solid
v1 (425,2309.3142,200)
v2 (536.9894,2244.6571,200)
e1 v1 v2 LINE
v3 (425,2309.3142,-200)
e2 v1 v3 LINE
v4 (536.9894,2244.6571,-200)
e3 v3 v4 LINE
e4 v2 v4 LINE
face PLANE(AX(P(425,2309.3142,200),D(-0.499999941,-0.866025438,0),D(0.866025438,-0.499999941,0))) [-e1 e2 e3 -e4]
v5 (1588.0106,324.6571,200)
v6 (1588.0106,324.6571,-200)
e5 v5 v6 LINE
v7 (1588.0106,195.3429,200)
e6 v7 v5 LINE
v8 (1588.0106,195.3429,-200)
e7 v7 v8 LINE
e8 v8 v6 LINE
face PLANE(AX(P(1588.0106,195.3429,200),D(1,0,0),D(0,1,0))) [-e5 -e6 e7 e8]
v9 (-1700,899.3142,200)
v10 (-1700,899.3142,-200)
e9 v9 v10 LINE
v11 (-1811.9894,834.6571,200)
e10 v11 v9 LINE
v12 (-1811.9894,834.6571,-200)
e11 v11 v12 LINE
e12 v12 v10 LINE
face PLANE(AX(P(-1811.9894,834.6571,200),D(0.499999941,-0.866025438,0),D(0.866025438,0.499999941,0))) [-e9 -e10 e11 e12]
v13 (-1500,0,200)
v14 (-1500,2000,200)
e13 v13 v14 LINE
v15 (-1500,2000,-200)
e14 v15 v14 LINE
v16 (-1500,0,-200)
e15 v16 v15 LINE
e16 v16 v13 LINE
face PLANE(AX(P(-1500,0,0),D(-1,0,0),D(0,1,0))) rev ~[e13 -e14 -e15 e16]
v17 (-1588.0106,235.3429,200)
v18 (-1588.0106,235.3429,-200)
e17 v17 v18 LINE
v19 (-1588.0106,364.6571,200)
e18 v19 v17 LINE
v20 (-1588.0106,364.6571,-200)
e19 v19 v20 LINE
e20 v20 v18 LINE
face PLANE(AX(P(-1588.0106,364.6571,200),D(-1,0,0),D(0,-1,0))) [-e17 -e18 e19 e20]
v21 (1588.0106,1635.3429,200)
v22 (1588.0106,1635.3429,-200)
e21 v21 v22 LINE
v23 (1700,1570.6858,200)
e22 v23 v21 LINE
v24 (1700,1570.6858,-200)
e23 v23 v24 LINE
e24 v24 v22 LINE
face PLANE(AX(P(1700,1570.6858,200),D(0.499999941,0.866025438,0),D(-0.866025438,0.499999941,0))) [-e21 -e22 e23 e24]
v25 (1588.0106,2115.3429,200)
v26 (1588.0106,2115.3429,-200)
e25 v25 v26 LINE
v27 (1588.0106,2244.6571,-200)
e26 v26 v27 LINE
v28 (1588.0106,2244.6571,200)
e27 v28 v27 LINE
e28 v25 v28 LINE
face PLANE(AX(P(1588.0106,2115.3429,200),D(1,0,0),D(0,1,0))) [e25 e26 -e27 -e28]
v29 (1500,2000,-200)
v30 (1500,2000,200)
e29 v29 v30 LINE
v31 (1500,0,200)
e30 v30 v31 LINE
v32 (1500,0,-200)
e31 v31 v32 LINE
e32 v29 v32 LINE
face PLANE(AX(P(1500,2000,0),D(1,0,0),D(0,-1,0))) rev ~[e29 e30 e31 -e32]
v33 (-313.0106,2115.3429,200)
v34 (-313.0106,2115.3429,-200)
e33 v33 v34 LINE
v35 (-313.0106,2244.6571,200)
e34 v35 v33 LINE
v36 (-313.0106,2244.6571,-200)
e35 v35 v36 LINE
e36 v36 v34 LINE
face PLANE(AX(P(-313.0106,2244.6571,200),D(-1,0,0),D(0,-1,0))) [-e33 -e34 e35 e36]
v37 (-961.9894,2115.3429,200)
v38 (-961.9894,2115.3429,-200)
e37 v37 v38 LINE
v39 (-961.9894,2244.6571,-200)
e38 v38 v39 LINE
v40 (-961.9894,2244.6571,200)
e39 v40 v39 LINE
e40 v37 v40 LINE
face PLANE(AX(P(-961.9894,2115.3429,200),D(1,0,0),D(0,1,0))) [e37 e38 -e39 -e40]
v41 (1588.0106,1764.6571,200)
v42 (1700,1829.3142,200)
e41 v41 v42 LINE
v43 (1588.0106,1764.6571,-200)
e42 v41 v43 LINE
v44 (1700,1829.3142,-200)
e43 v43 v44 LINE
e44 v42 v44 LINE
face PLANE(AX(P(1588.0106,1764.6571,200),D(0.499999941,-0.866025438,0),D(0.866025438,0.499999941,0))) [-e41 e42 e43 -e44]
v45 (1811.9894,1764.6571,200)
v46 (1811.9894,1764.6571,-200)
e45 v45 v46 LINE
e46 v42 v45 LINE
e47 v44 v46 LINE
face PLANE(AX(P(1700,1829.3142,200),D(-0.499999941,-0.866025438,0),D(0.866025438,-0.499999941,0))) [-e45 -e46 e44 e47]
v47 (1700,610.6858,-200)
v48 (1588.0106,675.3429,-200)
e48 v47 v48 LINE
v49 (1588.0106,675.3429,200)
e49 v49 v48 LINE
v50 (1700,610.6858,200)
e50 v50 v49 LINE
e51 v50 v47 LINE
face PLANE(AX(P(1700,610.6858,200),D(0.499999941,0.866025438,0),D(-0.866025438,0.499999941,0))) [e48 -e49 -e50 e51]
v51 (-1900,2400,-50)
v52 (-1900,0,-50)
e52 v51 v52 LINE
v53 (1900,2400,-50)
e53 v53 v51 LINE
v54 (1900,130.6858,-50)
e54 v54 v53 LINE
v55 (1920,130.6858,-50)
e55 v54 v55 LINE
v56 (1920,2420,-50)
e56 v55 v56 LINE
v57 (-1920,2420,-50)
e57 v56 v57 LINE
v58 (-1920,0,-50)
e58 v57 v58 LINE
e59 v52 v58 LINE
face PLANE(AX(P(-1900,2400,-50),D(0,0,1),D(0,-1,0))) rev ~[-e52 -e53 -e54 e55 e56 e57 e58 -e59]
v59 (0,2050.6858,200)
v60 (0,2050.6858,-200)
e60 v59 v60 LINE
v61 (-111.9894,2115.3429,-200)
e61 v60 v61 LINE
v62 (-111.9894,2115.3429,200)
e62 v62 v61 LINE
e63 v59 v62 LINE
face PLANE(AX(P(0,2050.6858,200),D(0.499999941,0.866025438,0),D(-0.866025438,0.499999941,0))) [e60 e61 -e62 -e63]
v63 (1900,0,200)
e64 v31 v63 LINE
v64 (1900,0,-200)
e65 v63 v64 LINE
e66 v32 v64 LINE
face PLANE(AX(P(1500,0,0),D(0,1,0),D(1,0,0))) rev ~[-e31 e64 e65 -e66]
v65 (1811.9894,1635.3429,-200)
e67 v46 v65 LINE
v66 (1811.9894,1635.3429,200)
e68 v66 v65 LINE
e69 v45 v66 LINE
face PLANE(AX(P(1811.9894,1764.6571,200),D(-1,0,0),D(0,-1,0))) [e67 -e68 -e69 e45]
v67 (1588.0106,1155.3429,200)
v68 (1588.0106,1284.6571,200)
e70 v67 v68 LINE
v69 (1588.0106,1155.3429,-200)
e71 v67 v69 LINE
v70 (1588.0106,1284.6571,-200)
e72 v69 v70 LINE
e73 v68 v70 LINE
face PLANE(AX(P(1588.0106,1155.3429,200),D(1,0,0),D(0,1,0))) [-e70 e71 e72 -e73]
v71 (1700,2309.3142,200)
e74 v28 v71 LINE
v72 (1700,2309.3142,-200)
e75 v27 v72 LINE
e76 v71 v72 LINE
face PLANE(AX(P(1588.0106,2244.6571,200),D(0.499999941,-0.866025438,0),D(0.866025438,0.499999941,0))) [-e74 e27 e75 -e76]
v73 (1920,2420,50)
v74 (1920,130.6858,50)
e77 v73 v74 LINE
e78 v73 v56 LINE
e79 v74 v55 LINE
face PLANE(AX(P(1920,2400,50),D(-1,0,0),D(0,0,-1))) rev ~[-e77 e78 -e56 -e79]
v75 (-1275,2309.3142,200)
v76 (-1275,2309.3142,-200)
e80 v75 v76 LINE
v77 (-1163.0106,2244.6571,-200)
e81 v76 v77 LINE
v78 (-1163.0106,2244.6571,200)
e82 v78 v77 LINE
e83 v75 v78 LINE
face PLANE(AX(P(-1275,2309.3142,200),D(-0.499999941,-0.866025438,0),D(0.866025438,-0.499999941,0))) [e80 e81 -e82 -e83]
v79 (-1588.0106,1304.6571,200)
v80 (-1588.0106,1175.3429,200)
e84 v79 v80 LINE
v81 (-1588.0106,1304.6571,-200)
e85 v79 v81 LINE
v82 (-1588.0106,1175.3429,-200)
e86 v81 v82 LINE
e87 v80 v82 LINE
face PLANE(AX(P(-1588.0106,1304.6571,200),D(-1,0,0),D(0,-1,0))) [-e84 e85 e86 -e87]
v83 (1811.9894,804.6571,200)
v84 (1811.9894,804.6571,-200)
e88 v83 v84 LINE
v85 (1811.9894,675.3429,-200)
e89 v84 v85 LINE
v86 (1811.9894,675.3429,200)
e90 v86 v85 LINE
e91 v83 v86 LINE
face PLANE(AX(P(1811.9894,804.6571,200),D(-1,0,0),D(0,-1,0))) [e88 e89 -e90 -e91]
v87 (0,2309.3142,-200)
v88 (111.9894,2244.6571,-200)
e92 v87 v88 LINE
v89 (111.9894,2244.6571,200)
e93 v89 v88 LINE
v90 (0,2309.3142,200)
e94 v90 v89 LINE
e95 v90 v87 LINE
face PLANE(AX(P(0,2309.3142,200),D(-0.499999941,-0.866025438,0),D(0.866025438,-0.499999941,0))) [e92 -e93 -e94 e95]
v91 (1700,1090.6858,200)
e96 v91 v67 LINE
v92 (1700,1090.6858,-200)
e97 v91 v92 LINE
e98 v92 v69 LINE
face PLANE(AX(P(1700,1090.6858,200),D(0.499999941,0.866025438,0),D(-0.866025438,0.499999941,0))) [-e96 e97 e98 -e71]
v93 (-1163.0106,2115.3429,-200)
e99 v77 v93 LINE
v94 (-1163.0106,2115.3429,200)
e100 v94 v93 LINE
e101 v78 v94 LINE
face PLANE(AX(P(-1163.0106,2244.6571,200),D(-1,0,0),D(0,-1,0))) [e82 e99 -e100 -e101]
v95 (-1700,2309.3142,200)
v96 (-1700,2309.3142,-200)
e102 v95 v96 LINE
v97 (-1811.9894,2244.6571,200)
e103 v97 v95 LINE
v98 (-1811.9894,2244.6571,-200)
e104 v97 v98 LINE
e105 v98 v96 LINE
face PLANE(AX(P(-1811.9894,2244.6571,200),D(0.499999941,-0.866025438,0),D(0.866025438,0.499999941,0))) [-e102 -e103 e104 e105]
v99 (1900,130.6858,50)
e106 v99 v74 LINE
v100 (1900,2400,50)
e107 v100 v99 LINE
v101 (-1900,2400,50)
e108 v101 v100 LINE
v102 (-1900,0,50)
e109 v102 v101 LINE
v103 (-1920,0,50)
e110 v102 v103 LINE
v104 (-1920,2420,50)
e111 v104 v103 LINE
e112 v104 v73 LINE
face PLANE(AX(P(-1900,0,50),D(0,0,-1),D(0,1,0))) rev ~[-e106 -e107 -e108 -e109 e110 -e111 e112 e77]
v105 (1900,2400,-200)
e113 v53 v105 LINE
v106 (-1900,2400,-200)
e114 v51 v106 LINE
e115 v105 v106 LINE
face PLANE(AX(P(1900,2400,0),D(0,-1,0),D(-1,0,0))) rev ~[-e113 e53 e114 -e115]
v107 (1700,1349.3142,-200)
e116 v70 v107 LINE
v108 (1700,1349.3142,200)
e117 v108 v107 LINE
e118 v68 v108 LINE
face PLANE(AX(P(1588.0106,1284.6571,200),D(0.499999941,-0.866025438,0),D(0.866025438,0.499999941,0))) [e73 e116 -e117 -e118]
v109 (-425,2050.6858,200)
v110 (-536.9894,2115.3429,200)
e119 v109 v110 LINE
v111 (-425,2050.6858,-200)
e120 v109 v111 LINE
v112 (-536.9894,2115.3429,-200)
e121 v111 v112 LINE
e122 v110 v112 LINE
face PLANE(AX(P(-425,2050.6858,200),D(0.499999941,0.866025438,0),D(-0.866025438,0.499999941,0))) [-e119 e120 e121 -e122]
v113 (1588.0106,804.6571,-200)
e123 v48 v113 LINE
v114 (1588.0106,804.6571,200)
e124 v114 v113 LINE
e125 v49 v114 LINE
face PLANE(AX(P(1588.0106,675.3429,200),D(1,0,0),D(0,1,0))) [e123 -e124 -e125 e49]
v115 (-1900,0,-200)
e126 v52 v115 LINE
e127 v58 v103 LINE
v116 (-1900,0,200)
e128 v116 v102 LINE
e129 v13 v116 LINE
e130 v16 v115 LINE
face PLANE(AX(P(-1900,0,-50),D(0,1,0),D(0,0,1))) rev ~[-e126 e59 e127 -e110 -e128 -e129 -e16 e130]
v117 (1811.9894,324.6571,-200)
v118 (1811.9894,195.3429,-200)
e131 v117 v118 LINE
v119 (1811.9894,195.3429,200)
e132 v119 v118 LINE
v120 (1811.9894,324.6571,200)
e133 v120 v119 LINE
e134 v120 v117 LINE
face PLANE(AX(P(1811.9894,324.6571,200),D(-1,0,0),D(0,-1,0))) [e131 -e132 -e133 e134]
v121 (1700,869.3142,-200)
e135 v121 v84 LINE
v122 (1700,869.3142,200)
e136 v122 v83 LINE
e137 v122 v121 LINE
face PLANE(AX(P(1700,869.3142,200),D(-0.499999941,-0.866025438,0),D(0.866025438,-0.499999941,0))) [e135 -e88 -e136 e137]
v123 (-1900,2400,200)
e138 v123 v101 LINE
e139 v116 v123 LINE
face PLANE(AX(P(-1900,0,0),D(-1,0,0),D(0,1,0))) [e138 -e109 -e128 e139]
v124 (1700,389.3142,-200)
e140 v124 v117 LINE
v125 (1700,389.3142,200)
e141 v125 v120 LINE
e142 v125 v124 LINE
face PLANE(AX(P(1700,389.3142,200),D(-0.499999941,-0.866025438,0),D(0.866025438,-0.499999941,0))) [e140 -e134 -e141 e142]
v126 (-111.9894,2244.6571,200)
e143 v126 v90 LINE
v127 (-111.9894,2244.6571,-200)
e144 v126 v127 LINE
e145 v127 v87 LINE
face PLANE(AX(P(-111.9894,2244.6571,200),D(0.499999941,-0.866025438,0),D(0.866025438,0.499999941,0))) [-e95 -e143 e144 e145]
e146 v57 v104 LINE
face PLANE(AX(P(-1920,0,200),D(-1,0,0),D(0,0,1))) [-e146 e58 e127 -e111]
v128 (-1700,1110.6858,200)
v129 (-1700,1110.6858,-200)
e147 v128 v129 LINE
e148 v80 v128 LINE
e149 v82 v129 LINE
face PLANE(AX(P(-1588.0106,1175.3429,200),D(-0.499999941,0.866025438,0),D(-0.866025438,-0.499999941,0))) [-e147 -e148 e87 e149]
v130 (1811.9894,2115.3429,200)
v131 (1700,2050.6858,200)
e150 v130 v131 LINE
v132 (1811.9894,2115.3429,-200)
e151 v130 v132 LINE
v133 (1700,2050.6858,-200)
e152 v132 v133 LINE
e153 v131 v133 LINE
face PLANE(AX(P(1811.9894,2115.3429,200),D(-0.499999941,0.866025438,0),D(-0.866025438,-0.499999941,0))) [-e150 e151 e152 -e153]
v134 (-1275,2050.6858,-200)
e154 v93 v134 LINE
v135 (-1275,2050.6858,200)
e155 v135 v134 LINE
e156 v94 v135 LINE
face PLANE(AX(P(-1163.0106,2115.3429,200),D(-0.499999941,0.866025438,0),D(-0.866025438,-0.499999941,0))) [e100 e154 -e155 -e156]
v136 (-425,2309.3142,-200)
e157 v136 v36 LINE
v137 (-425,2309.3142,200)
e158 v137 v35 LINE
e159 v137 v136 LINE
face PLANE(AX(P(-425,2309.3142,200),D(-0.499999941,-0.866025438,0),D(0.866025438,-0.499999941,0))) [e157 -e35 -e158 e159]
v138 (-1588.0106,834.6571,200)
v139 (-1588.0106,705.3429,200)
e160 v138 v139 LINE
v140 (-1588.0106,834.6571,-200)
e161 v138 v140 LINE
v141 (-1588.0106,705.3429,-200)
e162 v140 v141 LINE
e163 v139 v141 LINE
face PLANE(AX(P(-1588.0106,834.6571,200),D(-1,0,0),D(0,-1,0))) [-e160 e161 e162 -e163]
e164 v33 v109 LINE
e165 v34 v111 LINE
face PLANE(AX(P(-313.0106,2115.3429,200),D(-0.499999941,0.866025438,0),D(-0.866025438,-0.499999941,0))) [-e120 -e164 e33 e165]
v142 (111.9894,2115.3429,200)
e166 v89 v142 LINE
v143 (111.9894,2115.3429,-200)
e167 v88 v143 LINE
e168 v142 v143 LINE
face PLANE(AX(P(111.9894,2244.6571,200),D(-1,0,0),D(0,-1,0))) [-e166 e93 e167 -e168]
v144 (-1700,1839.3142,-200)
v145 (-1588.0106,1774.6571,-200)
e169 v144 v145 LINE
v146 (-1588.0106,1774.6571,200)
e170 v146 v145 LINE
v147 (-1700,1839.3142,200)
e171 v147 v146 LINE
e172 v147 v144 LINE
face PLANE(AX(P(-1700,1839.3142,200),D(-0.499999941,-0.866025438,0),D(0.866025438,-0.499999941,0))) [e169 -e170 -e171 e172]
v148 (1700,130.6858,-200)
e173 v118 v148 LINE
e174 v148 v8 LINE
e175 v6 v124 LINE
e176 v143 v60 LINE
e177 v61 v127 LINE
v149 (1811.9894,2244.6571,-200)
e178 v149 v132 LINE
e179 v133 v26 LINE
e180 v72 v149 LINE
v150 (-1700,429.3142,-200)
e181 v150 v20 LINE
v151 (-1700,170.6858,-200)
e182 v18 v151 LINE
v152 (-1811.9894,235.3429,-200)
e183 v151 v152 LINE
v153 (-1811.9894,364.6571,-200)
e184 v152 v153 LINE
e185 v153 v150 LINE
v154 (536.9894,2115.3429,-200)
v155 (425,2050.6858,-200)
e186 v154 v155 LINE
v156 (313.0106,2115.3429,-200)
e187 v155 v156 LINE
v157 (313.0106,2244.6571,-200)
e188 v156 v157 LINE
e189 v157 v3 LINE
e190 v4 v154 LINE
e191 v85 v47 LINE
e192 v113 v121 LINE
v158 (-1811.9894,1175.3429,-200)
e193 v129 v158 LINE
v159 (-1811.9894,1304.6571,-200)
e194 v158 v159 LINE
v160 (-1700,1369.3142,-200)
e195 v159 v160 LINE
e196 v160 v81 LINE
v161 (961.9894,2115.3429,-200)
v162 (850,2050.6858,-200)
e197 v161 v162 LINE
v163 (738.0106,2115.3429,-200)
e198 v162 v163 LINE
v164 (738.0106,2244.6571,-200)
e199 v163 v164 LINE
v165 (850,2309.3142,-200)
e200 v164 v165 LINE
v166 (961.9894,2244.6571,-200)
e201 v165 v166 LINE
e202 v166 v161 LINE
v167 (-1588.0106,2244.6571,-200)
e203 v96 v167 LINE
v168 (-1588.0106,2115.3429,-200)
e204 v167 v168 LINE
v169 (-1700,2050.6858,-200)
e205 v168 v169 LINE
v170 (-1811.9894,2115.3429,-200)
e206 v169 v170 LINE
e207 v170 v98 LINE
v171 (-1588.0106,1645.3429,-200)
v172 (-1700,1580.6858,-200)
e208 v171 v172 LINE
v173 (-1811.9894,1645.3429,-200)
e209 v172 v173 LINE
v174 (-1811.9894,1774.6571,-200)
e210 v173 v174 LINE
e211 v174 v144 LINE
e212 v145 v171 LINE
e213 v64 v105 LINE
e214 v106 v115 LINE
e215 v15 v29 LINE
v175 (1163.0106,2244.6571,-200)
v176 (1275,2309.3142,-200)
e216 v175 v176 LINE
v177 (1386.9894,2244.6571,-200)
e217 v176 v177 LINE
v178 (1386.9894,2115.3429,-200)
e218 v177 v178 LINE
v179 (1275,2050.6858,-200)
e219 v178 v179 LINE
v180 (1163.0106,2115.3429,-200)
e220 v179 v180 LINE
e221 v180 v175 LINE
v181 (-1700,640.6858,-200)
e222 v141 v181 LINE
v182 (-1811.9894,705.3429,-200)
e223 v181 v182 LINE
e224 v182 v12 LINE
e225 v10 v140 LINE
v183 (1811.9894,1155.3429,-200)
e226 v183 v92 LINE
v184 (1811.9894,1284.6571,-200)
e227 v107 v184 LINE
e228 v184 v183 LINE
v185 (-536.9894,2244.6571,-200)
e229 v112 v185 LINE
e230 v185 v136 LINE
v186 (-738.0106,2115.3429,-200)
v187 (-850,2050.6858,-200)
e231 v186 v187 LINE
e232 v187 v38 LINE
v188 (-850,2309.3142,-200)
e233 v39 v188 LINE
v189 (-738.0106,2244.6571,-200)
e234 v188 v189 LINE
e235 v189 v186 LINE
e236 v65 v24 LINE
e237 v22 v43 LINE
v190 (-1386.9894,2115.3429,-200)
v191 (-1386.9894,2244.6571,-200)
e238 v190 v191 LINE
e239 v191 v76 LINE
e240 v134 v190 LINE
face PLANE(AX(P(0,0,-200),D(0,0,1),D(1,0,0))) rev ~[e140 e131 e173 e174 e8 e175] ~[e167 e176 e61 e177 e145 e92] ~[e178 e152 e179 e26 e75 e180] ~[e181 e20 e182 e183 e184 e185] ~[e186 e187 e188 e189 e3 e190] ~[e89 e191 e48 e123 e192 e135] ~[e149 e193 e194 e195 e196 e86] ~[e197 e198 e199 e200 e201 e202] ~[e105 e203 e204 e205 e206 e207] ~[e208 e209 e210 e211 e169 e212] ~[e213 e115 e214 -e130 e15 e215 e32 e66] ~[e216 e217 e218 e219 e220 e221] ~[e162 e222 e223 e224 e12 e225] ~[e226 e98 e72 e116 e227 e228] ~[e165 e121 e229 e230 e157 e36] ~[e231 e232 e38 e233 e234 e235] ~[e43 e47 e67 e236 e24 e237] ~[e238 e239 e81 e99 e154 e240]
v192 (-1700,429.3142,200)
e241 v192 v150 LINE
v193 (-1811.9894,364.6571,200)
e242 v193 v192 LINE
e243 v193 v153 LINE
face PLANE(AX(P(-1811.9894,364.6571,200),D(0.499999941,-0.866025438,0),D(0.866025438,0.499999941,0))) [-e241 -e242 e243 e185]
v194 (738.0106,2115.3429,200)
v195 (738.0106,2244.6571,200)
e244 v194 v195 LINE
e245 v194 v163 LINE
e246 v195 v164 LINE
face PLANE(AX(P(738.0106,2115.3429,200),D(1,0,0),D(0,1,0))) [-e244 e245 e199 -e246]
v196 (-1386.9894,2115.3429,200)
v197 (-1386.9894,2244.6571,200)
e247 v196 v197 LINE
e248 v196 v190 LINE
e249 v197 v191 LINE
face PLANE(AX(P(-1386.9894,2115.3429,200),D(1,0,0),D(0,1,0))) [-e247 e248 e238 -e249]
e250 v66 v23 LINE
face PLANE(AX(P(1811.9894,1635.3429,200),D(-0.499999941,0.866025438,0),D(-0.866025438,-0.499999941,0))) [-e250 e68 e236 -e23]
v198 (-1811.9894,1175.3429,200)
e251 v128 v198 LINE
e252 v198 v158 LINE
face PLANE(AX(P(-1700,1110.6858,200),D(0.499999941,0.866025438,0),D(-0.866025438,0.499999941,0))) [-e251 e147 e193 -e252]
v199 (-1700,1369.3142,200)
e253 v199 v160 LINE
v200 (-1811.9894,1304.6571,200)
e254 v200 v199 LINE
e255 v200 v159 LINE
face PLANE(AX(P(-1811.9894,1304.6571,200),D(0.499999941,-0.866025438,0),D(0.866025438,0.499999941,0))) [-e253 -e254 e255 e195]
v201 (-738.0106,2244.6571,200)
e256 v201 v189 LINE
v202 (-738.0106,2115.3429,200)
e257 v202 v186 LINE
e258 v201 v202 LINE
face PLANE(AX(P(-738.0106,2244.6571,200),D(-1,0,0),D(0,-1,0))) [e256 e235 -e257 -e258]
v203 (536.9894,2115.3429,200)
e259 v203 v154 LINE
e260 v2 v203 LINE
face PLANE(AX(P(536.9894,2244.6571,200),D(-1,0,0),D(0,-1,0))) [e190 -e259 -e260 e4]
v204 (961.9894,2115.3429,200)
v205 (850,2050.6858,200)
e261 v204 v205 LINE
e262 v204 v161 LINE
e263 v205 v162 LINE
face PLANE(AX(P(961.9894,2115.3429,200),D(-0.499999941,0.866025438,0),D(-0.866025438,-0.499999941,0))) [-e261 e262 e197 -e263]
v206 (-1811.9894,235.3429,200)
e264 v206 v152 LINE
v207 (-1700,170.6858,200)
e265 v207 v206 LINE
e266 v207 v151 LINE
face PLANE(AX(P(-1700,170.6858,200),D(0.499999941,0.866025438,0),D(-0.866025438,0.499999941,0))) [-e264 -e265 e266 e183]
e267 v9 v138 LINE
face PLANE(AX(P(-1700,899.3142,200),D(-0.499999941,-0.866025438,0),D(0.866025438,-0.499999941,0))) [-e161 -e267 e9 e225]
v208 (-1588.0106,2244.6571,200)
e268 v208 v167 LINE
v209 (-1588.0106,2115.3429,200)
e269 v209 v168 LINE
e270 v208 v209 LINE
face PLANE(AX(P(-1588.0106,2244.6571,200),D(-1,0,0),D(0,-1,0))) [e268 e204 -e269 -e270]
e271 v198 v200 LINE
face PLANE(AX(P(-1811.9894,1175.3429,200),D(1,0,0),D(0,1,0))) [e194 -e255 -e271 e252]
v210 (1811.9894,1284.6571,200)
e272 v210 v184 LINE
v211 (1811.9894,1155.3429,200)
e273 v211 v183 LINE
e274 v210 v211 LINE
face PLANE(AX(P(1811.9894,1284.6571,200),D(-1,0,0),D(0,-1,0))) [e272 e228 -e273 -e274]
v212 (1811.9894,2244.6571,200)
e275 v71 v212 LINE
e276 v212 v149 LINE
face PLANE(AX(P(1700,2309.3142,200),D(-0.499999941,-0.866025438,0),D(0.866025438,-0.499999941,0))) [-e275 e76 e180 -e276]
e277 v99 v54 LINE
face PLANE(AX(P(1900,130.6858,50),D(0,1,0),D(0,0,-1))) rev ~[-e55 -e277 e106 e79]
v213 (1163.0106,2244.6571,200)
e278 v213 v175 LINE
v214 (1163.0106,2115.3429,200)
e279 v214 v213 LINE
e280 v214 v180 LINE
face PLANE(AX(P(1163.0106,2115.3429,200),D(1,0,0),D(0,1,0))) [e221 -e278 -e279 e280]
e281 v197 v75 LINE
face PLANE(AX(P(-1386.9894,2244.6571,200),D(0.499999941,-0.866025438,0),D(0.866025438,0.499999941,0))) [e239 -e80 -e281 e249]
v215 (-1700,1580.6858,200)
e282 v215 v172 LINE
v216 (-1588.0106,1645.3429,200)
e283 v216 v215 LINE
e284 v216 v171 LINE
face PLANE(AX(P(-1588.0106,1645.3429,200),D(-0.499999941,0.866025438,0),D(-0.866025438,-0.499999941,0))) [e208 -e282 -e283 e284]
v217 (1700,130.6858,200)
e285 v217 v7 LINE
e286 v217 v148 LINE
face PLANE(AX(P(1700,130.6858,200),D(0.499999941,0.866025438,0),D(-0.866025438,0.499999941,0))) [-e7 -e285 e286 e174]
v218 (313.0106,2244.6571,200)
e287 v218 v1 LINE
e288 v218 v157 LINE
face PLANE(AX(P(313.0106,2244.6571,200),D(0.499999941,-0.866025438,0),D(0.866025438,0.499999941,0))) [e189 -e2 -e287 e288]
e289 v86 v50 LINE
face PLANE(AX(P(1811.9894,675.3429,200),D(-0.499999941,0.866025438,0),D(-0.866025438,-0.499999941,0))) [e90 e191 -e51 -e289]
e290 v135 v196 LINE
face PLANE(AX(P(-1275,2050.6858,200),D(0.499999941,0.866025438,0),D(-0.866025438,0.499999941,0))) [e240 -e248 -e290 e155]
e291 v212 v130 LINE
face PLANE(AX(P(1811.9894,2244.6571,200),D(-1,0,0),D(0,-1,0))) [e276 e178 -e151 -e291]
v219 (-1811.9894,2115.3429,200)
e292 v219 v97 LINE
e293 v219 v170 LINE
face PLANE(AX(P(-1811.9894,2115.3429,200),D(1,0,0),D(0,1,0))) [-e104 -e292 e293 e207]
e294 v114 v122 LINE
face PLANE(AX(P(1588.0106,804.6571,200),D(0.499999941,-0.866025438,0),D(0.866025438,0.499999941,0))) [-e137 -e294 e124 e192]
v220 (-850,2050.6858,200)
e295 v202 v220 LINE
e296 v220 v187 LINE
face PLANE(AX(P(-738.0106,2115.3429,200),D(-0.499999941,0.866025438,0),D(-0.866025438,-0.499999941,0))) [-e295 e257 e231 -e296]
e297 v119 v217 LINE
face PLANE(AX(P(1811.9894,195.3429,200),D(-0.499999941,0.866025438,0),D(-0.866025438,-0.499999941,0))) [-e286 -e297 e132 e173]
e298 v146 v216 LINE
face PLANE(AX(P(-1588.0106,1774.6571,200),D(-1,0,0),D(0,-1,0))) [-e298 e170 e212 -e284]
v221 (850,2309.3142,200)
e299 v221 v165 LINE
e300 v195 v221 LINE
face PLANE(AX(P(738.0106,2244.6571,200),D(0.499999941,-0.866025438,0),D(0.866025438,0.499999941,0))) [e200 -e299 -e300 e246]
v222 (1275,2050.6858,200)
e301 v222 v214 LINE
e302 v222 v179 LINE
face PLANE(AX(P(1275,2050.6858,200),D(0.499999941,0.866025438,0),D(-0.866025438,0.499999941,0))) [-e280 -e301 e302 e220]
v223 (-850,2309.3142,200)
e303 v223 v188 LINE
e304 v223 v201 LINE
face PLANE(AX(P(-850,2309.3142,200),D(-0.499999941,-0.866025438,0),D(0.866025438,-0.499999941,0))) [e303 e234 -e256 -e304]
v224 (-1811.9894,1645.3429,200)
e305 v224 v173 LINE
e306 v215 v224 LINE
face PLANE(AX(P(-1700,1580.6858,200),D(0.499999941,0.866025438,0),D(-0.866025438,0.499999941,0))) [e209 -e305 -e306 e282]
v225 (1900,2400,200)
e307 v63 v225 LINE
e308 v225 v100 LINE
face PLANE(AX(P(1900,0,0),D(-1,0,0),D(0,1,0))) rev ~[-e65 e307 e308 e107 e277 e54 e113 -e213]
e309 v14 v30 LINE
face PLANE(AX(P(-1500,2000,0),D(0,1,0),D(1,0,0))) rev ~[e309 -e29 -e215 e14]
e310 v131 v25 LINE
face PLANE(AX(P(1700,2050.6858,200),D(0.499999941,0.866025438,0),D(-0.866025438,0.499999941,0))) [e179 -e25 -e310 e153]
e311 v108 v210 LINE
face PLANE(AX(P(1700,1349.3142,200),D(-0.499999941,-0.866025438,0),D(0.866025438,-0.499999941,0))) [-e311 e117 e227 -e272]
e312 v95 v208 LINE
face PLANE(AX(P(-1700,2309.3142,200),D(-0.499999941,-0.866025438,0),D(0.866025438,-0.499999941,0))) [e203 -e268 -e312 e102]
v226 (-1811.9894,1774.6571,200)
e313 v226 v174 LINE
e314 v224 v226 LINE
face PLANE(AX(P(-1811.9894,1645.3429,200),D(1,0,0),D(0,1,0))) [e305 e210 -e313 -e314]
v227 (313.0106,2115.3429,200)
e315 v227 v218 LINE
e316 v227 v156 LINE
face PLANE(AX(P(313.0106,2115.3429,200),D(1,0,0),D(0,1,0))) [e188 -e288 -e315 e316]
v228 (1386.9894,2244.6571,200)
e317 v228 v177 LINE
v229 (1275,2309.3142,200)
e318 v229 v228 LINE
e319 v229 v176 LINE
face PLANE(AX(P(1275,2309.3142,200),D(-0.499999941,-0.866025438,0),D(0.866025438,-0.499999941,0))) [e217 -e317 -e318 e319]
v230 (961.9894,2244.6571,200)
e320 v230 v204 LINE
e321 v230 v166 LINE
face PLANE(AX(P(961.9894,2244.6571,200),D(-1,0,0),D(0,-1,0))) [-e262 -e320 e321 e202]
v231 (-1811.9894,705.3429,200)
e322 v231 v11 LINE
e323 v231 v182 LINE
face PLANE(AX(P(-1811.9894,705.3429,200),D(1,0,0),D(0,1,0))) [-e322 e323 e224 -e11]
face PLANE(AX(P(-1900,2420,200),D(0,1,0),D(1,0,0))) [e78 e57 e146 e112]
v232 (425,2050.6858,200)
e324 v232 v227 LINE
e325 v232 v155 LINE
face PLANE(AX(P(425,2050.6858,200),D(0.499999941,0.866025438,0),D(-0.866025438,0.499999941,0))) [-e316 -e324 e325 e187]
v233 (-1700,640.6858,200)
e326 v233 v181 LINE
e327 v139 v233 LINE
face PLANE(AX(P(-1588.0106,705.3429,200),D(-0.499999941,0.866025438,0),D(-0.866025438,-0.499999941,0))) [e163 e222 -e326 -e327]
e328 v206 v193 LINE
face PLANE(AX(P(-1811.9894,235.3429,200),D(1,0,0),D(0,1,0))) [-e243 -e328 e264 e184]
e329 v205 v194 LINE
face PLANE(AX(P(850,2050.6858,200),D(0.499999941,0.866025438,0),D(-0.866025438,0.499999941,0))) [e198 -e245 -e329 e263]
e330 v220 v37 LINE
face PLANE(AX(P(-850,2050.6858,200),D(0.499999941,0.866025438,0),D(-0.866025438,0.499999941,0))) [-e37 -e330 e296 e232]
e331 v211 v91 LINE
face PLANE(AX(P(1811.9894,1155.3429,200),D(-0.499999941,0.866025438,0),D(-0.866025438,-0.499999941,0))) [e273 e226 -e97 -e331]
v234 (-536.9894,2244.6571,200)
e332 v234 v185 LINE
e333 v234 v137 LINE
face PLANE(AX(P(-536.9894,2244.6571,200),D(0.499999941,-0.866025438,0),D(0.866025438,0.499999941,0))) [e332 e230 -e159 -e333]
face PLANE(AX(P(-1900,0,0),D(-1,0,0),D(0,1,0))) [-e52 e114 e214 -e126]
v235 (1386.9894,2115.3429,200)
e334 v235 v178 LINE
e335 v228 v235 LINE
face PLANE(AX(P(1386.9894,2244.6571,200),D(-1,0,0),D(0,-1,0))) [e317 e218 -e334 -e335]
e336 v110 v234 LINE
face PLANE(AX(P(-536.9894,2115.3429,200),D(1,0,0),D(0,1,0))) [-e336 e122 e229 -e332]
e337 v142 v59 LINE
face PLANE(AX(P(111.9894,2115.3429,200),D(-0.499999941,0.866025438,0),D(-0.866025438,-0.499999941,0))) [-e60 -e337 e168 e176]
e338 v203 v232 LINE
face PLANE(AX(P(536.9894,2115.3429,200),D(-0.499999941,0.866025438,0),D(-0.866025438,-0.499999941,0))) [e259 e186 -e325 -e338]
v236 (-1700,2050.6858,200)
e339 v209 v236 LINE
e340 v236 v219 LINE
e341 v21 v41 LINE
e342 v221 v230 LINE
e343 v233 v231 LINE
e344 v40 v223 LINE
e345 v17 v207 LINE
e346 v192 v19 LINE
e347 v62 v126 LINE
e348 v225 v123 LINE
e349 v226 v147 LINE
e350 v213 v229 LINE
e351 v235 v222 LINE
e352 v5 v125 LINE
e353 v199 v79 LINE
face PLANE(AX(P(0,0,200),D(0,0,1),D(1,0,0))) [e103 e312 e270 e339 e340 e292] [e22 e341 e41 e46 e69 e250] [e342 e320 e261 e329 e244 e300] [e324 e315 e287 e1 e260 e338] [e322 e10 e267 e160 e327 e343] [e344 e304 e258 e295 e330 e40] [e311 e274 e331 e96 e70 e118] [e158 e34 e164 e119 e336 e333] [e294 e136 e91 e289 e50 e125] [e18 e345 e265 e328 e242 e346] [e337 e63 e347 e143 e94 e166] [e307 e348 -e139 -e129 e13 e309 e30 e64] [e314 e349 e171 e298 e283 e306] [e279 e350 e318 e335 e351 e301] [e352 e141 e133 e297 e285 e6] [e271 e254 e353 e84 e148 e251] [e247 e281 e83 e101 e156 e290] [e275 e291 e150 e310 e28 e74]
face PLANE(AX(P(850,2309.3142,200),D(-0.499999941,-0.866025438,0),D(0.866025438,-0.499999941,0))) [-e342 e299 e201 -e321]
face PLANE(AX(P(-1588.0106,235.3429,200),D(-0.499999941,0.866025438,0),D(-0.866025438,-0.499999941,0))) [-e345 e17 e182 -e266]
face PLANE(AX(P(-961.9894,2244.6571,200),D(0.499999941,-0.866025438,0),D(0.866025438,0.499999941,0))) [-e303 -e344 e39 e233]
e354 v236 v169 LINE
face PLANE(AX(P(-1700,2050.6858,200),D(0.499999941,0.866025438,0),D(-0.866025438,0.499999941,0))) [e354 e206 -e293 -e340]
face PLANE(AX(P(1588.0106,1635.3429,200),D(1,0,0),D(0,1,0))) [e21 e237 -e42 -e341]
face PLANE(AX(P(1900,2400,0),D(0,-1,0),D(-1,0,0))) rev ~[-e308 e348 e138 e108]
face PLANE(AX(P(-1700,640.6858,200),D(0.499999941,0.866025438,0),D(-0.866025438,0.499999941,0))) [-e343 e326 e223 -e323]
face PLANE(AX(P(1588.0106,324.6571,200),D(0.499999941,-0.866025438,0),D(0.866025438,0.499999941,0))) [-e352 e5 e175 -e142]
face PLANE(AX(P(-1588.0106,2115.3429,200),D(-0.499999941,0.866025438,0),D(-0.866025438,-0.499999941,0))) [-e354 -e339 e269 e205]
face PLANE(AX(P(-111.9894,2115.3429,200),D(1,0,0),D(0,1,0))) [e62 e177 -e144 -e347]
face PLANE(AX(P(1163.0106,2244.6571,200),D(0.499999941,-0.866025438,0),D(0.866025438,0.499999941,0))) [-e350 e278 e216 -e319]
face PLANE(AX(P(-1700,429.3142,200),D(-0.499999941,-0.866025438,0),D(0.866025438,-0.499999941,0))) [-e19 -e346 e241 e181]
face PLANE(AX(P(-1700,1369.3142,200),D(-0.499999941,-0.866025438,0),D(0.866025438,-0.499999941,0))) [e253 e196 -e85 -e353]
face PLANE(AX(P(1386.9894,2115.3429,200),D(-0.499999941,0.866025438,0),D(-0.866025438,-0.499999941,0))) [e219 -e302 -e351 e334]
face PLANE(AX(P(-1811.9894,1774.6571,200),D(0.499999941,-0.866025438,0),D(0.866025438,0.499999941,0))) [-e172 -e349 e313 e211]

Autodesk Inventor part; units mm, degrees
ref_plane "YZ Plane" through (0, 0, 0) normal (1, 0, 0) x (0, 1, 0)
ref_plane "XZ Plane" through (0, 0, 0) normal (0, 1, 0) x (-1, 0, 0)
ref_plane "XY Plane" through (0, 0, 0) normal (0, 0, 1) x (1, 0, 0)
sketch "Boceto1" plane through (0, 0, 0) normal (0, 0, 1) x (1, 0, 0)
  line L0 (-1500, 0) -> (-1900, 0)
  line L1 (-1900, 0) -> (-1900, 2000)
  line L2 (-1500, 2000) -> (1500, 2000)
  line L3 (1500, 2000) -> (1500, 0)
  line L4 (1500, 0) -> (1900, 0)
  line L5 (1900, 0) -> (1900, 2400)
  line L6 (1900, 2400) -> (-1900, 2400)
  line L7 (-1900, 2400) -> (-1900, 2000)
  line L8 (-1500, 0) -> (-1500, 2000)
  point P0 (0, 0)
  point P1 (0, 2400)
  dimension "d0" = 400
  dimension "d2" = 3000
  dimension "d3" = 400
  dimension "d4" = 2400
  dimension "d5" = 400
  dimension "d6" = 2400
extrude "Extrusión1" add sketch "Boceto1" along normal mid plane 400
sketch "Boceto2" plane through (0, 0, 200) normal (0, 0, 1) x (1, 0, 0)
  line L0 (-1700, 429.3142) -> (-1588.0106, 364.6571)
  line L1 (-1588.0106, 364.6571) -> (-1588.0106, 235.3429)
  line L2 (-1588.0106, 235.3429) -> (-1700, 170.6858)
  line L3 (-1700, 170.6858) -> (-1811.9894, 235.3429)
  line L4 (-1811.9894, 235.3429) -> (-1811.9894, 364.6571)
  line L5 (-1811.9894, 364.6571) -> (-1700, 429.3142)
  line L6 (1500, 2000) -> (1500, 0) construction
  line L7 (1500, 0) -> (1900, 0) construction
  line L8 (1900, 0) -> (1900, 2400) construction
  line L9 (1900, 2400) -> (-1900, 2400) construction
  line L10 (-1900, 2400) -> (-1900, 0) construction
  line L11 (-1900, 0) -> (-1500, 0) construction
  line L12 (-1500, 0) -> (-1500, 2000) construction
  line L13 (-1500, 2000) -> (1500, 2000) construction
  line L14 (-1588.0106, 834.6571) -> (-1588.0106, 705.3429)
  line L15 (-1700, 899.3142) -> (-1588.0106, 834.6571)
  line L16 (-1588.0106, 705.3429) -> (-1700, 640.6858)
  line L17 (-1811.9894, 834.6571) -> (-1700, 899.3142)
  line L18 (-1811.9894, 705.3429) -> (-1811.9894, 834.6571)
  line L19 (-1700, 640.6858) -> (-1811.9894, 705.3429)
  line L20 (-1588.0106, 1304.6571) -> (-1588.0106, 1175.3429)
  line L21 (-1700, 1369.3142) -> (-1588.0106, 1304.6571)
  line L22 (-1588.0106, 1175.3429) -> (-1700, 1110.6858)
  line L23 (-1811.9894, 1304.6571) -> (-1700, 1369.3142)
  line L24 (-1811.9894, 1175.3429) -> (-1811.9894, 1304.6571)
  line L25 (-1700, 1110.6858) -> (-1811.9894, 1175.3429)
  line L26 (-1588.0106, 1774.6571) -> (-1588.0106, 1645.3429)
  line L27 (-1700, 1839.3142) -> (-1588.0106, 1774.6571)
  line L28 (-1588.0106, 1645.3429) -> (-1700, 1580.6858)
  line L29 (-1811.9894, 1774.6571) -> (-1700, 1839.3142)
  line L30 (-1811.9894, 1645.3429) -> (-1811.9894, 1774.6571)
  line L31 (-1700, 1580.6858) -> (-1811.9894, 1645.3429)
  line L32 (-1588.0106, 2244.6571) -> (-1588.0106, 2115.3429)
  line L33 (-1700, 2309.3142) -> (-1588.0106, 2244.6571)
  line L34 (-1588.0106, 2115.3429) -> (-1700, 2050.6858)
  line L35 (-1811.9894, 2244.6571) -> (-1700, 2309.3142)
  line L36 (-1811.9894, 2115.3429) -> (-1811.9894, 2244.6571)
  line L37 (-1700, 2050.6858) -> (-1811.9894, 2115.3429)
  line L38 (-1275, 2050.6858) -> (-1386.9894, 2115.3429)
  line L39 (-1163.0106, 2244.6571) -> (-1163.0106, 2115.3429)
  line L40 (-1386.9894, 2115.3429) -> (-1386.9894, 2244.6571)
  line L41 (-1386.9894, 2244.6571) -> (-1275, 2309.3142)
  line L42 (-1275, 2309.3142) -> (-1163.0106, 2244.6571)
  line L43 (-1163.0106, 2115.3429) -> (-1275, 2050.6858)
  line L44 (-850, 2050.6858) -> (-961.9894, 2115.3429)
  line L45 (-738.0106, 2244.6571) -> (-738.0106, 2115.3429)
  line L46 (-961.9894, 2115.3429) -> (-961.9894, 2244.6571)
  line L47 (-961.9894, 2244.6571) -> (-850, 2309.3142)
  line L48 (-850, 2309.3142) -> (-738.0106, 2244.6571)
  line L49 (-738.0106, 2115.3429) -> (-850, 2050.6858)
  line L50 (-425, 2050.6858) -> (-536.9894, 2115.3429)
  line L51 (-313.0106, 2244.6571) -> (-313.0106, 2115.3429)
  line L52 (-536.9894, 2115.3429) -> (-536.9894, 2244.6571)
  line L53 (-536.9894, 2244.6571) -> (-425, 2309.3142)
  line L54 (-425, 2309.3142) -> (-313.0106, 2244.6571)
  line L55 (-313.0106, 2115.3429) -> (-425, 2050.6858)
  line L56 (0, 2050.6858) -> (-111.9894, 2115.3429)
  line L57 (111.9894, 2244.6571) -> (111.9894, 2115.3429)
  line L58 (-111.9894, 2115.3429) -> (-111.9894, 2244.6571)
  line L59 (-111.9894, 2244.6571) -> (0, 2309.3142)
  line L60 (0, 2309.3142) -> (111.9894, 2244.6571)
  line L61 (111.9894, 2115.3429) -> (0, 2050.6858)
  line L62 (425, 2050.6858) -> (313.0106, 2115.3429)
  line L63 (536.9894, 2244.6571) -> (536.9894, 2115.3429)
  line L64 (313.0106, 2115.3429) -> (313.0106, 2244.6571)
  line L65 (313.0106, 2244.6571) -> (425, 2309.3142)
  line L66 (425, 2309.3142) -> (536.9894, 2244.6571)
  line L67 (536.9894, 2115.3429) -> (425, 2050.6858)
  line L68 (850, 2050.6858) -> (738.0106, 2115.3429)
  line L69 (961.9894, 2244.6571) -> (961.9894, 2115.3429)
  line L70 (738.0106, 2115.3429) -> (738.0106, 2244.6571)
  line L71 (738.0106, 2244.6571) -> (850, 2309.3142)
  line L72 (850, 2309.3142) -> (961.9894, 2244.6571)
  line L73 (961.9894, 2115.3429) -> (850, 2050.6858)
  line L74 (1275, 2050.6858) -> (1163.0106, 2115.3429)
  line L75 (1386.9894, 2244.6571) -> (1386.9894, 2115.3429)
  line L76 (1163.0106, 2115.3429) -> (1163.0106, 2244.6571)
  line L77 (1163.0106, 2244.6571) -> (1275, 2309.3142)
  line L78 (1275, 2309.3142) -> (1386.9894, 2244.6571)
  line L79 (1386.9894, 2115.3429) -> (1275, 2050.6858)
  line L80 (1700, 2050.6858) -> (1588.0106, 2115.3429)
  line L81 (1811.9894, 2244.6571) -> (1811.9894, 2115.3429)
  line L82 (1588.0106, 2115.3429) -> (1588.0106, 2244.6571)
  line L83 (1588.0106, 2244.6571) -> (1700, 2309.3142)
  line L84 (1700, 2309.3142) -> (1811.9894, 2244.6571)
  line L85 (1811.9894, 2115.3429) -> (1700, 2050.6858)
  line L86 (1588.0106, 1635.3429) -> (1588.0106, 1764.6571)
  line L87 (1700, 1570.6858) -> (1588.0106, 1635.3429)
  line L88 (1588.0106, 1764.6571) -> (1700, 1829.3142)
  line L89 (1811.9894, 1635.3429) -> (1700, 1570.6858)
  line L90 (1811.9894, 1764.6571) -> (1811.9894, 1635.3429)
  line L91 (1700, 1829.3142) -> (1811.9894, 1764.6571)
  line L92 (1588.0106, 1155.3429) -> (1588.0106, 1284.6571)
  line L93 (1700, 1090.6858) -> (1588.0106, 1155.3429)
  line L94 (1588.0106, 1284.6571) -> (1700, 1349.3142)
  line L95 (1811.9894, 1155.3429) -> (1700, 1090.6858)
  line L96 (1811.9894, 1284.6571) -> (1811.9894, 1155.3429)
  line L97 (1700, 1349.3142) -> (1811.9894, 1284.6571)
  line L98 (1588.0106, 675.3429) -> (1588.0106, 804.6571)
  line L99 (1700, 610.6858) -> (1588.0106, 675.3429)
  line L100 (1588.0106, 804.6571) -> (1700, 869.3142)
  line L101 (1811.9894, 675.3429) -> (1700, 610.6858)
  line L102 (1811.9894, 804.6571) -> (1811.9894, 675.3429)
  line L103 (1700, 869.3142) -> (1811.9894, 804.6571)
  line L104 (1588.0106, 195.3429) -> (1588.0106, 324.6571)
  line L105 (1700, 130.6858) -> (1588.0106, 195.3429)
  line L106 (1588.0106, 324.6571) -> (1700, 389.3142)
  line L107 (1811.9894, 195.3429) -> (1700, 130.6858)
  line L108 (1811.9894, 324.6571) -> (1811.9894, 195.3429)
  line L109 (1700, 389.3142) -> (1811.9894, 324.6571)
  point P0 (0, 0)
  point P1 (-1700, 300)
  point P2 (-1700, 770)
  point P3 (-1700, 1240)
  point P4 (-1700, 1710)
  point P5 (-1700, 2180)
  point P6 (-1275, 2180)
  point P7 (-850, 2180)
  point P8 (-425, 2180)
  point P9 (0, 2180)
  point P10 (425, 2180)
  point P11 (850, 2180)
  point P12 (1275, 2180)
  point P13 (1700, 2180)
  point P14 (1700, 1700)
  point P15 (1700, 1220)
  point P16 (1700, 740)
  point P17 (1700, 260)
  dimension "d9" = 300
  dimension "d10" = 200
  dimension "d11" = 64.6571
  dimension "d14" = 470
  dimension "d21" = 425
  dimension "d28" = 480
extrude "Extrusión2" cut sketch "Boceto2" against normal blind 400
sketch "Boceto5" plane through (1900, 0, 200) normal (1, 0, 0) x (0, 0, -1)
  line L0 (400, 2400) -> (0, 2400) construction
  line L1 (0, 0) -> (0, 2400) construction
  line L2 (400, 0) -> (0, 0) construction
  line L3 (400, 2400) -> (400, 0) construction
  line L4 (0, 130.6858) -> (400, 130.6858) construction
  line L5 (400, 2400) -> (0, 2400) construction
  line L6 (150, 130.6858) -> (250, 130.6858)
  line L7 (250, 130.6858) -> (250, 2400)
  line L8 (250, 2400) -> (150, 2400)
  line L9 (150, 2400) -> (150, 130.6858)
  point P0 (200, 0)
  dimension "d42" = 100
  dimension "d43" = 150
extrude "Extrusión3" add sketch "Boceto5" along normal blind 20
sketch "Boceto6" plane through (-1900, 2400, 200) normal (0, 1, 0) x (1, 0, 0)
  line L0 (0, 400) -> (0, 0) construction
  line L1 (3800, 0) -> (0, 0) construction
  line L2 (3800, 150) -> (3800, 0) construction
  line L3 (3800, 150) -> (3820, 150) construction
  line L4 (3820, 250) -> (3820, 150) construction
  line L5 (3800, 250) -> (3820, 250) construction
  line L6 (3800, 400) -> (3800, 250) construction
  line L7 (0, 400) -> (3800, 400) construction
  line L8 (3820, 250) -> (-20, 250)
  line L9 (-20, 250) -> (-20, 150)
  line L10 (-20, 150) -> (3820, 150)
  line L11 (3820, 150) -> (3820, 250)
  point P0 (1900, 200)
  dimension "d46" = 3840
  dimension "d47" = 100
extrude "Extrusión4" add sketch "Boceto6" along normal blind 20
sketch "Boceto7" plane through (-1900, 0, 200) normal (-1, 0, 0) x (0, 0, 1)
  line L0 (-400, 0) -> (0, 0) construction
  line L1 (0, 2400) -> (0, 0) construction
  line L2 (-150, 2400) -> (0, 2400) construction
  line L3 (-250, 2400) -> (-150, 2400) construction
  line L4 (-400, 2400) -> (-250, 2400) construction
  line L5 (-400, 0) -> (-400, 2400) construction
  line L6 (-250, 2400) -> (-150, 2400) construction
  line L7 (-150, 2400) -> (-150, 2420) construction
  line L8 (-250, 2420) -> (-150, 2420) construction
  line L9 (-250, 2400) -> (-250, 2420) construction
  line L10 (-150, 2400) -> (-250, 2400)
  line L11 (-250, 2400) -> (-250, 0)
  line L12 (-250, 0) -> (-150, 0)
  line L13 (-150, 0) -> (-150, 2400)
  point P0 (-200, 0)
  dimension "d50" = 100
extrude "Extrusión5" add sketch "Boceto7" along normal blind 20
properties part number "estructura"
